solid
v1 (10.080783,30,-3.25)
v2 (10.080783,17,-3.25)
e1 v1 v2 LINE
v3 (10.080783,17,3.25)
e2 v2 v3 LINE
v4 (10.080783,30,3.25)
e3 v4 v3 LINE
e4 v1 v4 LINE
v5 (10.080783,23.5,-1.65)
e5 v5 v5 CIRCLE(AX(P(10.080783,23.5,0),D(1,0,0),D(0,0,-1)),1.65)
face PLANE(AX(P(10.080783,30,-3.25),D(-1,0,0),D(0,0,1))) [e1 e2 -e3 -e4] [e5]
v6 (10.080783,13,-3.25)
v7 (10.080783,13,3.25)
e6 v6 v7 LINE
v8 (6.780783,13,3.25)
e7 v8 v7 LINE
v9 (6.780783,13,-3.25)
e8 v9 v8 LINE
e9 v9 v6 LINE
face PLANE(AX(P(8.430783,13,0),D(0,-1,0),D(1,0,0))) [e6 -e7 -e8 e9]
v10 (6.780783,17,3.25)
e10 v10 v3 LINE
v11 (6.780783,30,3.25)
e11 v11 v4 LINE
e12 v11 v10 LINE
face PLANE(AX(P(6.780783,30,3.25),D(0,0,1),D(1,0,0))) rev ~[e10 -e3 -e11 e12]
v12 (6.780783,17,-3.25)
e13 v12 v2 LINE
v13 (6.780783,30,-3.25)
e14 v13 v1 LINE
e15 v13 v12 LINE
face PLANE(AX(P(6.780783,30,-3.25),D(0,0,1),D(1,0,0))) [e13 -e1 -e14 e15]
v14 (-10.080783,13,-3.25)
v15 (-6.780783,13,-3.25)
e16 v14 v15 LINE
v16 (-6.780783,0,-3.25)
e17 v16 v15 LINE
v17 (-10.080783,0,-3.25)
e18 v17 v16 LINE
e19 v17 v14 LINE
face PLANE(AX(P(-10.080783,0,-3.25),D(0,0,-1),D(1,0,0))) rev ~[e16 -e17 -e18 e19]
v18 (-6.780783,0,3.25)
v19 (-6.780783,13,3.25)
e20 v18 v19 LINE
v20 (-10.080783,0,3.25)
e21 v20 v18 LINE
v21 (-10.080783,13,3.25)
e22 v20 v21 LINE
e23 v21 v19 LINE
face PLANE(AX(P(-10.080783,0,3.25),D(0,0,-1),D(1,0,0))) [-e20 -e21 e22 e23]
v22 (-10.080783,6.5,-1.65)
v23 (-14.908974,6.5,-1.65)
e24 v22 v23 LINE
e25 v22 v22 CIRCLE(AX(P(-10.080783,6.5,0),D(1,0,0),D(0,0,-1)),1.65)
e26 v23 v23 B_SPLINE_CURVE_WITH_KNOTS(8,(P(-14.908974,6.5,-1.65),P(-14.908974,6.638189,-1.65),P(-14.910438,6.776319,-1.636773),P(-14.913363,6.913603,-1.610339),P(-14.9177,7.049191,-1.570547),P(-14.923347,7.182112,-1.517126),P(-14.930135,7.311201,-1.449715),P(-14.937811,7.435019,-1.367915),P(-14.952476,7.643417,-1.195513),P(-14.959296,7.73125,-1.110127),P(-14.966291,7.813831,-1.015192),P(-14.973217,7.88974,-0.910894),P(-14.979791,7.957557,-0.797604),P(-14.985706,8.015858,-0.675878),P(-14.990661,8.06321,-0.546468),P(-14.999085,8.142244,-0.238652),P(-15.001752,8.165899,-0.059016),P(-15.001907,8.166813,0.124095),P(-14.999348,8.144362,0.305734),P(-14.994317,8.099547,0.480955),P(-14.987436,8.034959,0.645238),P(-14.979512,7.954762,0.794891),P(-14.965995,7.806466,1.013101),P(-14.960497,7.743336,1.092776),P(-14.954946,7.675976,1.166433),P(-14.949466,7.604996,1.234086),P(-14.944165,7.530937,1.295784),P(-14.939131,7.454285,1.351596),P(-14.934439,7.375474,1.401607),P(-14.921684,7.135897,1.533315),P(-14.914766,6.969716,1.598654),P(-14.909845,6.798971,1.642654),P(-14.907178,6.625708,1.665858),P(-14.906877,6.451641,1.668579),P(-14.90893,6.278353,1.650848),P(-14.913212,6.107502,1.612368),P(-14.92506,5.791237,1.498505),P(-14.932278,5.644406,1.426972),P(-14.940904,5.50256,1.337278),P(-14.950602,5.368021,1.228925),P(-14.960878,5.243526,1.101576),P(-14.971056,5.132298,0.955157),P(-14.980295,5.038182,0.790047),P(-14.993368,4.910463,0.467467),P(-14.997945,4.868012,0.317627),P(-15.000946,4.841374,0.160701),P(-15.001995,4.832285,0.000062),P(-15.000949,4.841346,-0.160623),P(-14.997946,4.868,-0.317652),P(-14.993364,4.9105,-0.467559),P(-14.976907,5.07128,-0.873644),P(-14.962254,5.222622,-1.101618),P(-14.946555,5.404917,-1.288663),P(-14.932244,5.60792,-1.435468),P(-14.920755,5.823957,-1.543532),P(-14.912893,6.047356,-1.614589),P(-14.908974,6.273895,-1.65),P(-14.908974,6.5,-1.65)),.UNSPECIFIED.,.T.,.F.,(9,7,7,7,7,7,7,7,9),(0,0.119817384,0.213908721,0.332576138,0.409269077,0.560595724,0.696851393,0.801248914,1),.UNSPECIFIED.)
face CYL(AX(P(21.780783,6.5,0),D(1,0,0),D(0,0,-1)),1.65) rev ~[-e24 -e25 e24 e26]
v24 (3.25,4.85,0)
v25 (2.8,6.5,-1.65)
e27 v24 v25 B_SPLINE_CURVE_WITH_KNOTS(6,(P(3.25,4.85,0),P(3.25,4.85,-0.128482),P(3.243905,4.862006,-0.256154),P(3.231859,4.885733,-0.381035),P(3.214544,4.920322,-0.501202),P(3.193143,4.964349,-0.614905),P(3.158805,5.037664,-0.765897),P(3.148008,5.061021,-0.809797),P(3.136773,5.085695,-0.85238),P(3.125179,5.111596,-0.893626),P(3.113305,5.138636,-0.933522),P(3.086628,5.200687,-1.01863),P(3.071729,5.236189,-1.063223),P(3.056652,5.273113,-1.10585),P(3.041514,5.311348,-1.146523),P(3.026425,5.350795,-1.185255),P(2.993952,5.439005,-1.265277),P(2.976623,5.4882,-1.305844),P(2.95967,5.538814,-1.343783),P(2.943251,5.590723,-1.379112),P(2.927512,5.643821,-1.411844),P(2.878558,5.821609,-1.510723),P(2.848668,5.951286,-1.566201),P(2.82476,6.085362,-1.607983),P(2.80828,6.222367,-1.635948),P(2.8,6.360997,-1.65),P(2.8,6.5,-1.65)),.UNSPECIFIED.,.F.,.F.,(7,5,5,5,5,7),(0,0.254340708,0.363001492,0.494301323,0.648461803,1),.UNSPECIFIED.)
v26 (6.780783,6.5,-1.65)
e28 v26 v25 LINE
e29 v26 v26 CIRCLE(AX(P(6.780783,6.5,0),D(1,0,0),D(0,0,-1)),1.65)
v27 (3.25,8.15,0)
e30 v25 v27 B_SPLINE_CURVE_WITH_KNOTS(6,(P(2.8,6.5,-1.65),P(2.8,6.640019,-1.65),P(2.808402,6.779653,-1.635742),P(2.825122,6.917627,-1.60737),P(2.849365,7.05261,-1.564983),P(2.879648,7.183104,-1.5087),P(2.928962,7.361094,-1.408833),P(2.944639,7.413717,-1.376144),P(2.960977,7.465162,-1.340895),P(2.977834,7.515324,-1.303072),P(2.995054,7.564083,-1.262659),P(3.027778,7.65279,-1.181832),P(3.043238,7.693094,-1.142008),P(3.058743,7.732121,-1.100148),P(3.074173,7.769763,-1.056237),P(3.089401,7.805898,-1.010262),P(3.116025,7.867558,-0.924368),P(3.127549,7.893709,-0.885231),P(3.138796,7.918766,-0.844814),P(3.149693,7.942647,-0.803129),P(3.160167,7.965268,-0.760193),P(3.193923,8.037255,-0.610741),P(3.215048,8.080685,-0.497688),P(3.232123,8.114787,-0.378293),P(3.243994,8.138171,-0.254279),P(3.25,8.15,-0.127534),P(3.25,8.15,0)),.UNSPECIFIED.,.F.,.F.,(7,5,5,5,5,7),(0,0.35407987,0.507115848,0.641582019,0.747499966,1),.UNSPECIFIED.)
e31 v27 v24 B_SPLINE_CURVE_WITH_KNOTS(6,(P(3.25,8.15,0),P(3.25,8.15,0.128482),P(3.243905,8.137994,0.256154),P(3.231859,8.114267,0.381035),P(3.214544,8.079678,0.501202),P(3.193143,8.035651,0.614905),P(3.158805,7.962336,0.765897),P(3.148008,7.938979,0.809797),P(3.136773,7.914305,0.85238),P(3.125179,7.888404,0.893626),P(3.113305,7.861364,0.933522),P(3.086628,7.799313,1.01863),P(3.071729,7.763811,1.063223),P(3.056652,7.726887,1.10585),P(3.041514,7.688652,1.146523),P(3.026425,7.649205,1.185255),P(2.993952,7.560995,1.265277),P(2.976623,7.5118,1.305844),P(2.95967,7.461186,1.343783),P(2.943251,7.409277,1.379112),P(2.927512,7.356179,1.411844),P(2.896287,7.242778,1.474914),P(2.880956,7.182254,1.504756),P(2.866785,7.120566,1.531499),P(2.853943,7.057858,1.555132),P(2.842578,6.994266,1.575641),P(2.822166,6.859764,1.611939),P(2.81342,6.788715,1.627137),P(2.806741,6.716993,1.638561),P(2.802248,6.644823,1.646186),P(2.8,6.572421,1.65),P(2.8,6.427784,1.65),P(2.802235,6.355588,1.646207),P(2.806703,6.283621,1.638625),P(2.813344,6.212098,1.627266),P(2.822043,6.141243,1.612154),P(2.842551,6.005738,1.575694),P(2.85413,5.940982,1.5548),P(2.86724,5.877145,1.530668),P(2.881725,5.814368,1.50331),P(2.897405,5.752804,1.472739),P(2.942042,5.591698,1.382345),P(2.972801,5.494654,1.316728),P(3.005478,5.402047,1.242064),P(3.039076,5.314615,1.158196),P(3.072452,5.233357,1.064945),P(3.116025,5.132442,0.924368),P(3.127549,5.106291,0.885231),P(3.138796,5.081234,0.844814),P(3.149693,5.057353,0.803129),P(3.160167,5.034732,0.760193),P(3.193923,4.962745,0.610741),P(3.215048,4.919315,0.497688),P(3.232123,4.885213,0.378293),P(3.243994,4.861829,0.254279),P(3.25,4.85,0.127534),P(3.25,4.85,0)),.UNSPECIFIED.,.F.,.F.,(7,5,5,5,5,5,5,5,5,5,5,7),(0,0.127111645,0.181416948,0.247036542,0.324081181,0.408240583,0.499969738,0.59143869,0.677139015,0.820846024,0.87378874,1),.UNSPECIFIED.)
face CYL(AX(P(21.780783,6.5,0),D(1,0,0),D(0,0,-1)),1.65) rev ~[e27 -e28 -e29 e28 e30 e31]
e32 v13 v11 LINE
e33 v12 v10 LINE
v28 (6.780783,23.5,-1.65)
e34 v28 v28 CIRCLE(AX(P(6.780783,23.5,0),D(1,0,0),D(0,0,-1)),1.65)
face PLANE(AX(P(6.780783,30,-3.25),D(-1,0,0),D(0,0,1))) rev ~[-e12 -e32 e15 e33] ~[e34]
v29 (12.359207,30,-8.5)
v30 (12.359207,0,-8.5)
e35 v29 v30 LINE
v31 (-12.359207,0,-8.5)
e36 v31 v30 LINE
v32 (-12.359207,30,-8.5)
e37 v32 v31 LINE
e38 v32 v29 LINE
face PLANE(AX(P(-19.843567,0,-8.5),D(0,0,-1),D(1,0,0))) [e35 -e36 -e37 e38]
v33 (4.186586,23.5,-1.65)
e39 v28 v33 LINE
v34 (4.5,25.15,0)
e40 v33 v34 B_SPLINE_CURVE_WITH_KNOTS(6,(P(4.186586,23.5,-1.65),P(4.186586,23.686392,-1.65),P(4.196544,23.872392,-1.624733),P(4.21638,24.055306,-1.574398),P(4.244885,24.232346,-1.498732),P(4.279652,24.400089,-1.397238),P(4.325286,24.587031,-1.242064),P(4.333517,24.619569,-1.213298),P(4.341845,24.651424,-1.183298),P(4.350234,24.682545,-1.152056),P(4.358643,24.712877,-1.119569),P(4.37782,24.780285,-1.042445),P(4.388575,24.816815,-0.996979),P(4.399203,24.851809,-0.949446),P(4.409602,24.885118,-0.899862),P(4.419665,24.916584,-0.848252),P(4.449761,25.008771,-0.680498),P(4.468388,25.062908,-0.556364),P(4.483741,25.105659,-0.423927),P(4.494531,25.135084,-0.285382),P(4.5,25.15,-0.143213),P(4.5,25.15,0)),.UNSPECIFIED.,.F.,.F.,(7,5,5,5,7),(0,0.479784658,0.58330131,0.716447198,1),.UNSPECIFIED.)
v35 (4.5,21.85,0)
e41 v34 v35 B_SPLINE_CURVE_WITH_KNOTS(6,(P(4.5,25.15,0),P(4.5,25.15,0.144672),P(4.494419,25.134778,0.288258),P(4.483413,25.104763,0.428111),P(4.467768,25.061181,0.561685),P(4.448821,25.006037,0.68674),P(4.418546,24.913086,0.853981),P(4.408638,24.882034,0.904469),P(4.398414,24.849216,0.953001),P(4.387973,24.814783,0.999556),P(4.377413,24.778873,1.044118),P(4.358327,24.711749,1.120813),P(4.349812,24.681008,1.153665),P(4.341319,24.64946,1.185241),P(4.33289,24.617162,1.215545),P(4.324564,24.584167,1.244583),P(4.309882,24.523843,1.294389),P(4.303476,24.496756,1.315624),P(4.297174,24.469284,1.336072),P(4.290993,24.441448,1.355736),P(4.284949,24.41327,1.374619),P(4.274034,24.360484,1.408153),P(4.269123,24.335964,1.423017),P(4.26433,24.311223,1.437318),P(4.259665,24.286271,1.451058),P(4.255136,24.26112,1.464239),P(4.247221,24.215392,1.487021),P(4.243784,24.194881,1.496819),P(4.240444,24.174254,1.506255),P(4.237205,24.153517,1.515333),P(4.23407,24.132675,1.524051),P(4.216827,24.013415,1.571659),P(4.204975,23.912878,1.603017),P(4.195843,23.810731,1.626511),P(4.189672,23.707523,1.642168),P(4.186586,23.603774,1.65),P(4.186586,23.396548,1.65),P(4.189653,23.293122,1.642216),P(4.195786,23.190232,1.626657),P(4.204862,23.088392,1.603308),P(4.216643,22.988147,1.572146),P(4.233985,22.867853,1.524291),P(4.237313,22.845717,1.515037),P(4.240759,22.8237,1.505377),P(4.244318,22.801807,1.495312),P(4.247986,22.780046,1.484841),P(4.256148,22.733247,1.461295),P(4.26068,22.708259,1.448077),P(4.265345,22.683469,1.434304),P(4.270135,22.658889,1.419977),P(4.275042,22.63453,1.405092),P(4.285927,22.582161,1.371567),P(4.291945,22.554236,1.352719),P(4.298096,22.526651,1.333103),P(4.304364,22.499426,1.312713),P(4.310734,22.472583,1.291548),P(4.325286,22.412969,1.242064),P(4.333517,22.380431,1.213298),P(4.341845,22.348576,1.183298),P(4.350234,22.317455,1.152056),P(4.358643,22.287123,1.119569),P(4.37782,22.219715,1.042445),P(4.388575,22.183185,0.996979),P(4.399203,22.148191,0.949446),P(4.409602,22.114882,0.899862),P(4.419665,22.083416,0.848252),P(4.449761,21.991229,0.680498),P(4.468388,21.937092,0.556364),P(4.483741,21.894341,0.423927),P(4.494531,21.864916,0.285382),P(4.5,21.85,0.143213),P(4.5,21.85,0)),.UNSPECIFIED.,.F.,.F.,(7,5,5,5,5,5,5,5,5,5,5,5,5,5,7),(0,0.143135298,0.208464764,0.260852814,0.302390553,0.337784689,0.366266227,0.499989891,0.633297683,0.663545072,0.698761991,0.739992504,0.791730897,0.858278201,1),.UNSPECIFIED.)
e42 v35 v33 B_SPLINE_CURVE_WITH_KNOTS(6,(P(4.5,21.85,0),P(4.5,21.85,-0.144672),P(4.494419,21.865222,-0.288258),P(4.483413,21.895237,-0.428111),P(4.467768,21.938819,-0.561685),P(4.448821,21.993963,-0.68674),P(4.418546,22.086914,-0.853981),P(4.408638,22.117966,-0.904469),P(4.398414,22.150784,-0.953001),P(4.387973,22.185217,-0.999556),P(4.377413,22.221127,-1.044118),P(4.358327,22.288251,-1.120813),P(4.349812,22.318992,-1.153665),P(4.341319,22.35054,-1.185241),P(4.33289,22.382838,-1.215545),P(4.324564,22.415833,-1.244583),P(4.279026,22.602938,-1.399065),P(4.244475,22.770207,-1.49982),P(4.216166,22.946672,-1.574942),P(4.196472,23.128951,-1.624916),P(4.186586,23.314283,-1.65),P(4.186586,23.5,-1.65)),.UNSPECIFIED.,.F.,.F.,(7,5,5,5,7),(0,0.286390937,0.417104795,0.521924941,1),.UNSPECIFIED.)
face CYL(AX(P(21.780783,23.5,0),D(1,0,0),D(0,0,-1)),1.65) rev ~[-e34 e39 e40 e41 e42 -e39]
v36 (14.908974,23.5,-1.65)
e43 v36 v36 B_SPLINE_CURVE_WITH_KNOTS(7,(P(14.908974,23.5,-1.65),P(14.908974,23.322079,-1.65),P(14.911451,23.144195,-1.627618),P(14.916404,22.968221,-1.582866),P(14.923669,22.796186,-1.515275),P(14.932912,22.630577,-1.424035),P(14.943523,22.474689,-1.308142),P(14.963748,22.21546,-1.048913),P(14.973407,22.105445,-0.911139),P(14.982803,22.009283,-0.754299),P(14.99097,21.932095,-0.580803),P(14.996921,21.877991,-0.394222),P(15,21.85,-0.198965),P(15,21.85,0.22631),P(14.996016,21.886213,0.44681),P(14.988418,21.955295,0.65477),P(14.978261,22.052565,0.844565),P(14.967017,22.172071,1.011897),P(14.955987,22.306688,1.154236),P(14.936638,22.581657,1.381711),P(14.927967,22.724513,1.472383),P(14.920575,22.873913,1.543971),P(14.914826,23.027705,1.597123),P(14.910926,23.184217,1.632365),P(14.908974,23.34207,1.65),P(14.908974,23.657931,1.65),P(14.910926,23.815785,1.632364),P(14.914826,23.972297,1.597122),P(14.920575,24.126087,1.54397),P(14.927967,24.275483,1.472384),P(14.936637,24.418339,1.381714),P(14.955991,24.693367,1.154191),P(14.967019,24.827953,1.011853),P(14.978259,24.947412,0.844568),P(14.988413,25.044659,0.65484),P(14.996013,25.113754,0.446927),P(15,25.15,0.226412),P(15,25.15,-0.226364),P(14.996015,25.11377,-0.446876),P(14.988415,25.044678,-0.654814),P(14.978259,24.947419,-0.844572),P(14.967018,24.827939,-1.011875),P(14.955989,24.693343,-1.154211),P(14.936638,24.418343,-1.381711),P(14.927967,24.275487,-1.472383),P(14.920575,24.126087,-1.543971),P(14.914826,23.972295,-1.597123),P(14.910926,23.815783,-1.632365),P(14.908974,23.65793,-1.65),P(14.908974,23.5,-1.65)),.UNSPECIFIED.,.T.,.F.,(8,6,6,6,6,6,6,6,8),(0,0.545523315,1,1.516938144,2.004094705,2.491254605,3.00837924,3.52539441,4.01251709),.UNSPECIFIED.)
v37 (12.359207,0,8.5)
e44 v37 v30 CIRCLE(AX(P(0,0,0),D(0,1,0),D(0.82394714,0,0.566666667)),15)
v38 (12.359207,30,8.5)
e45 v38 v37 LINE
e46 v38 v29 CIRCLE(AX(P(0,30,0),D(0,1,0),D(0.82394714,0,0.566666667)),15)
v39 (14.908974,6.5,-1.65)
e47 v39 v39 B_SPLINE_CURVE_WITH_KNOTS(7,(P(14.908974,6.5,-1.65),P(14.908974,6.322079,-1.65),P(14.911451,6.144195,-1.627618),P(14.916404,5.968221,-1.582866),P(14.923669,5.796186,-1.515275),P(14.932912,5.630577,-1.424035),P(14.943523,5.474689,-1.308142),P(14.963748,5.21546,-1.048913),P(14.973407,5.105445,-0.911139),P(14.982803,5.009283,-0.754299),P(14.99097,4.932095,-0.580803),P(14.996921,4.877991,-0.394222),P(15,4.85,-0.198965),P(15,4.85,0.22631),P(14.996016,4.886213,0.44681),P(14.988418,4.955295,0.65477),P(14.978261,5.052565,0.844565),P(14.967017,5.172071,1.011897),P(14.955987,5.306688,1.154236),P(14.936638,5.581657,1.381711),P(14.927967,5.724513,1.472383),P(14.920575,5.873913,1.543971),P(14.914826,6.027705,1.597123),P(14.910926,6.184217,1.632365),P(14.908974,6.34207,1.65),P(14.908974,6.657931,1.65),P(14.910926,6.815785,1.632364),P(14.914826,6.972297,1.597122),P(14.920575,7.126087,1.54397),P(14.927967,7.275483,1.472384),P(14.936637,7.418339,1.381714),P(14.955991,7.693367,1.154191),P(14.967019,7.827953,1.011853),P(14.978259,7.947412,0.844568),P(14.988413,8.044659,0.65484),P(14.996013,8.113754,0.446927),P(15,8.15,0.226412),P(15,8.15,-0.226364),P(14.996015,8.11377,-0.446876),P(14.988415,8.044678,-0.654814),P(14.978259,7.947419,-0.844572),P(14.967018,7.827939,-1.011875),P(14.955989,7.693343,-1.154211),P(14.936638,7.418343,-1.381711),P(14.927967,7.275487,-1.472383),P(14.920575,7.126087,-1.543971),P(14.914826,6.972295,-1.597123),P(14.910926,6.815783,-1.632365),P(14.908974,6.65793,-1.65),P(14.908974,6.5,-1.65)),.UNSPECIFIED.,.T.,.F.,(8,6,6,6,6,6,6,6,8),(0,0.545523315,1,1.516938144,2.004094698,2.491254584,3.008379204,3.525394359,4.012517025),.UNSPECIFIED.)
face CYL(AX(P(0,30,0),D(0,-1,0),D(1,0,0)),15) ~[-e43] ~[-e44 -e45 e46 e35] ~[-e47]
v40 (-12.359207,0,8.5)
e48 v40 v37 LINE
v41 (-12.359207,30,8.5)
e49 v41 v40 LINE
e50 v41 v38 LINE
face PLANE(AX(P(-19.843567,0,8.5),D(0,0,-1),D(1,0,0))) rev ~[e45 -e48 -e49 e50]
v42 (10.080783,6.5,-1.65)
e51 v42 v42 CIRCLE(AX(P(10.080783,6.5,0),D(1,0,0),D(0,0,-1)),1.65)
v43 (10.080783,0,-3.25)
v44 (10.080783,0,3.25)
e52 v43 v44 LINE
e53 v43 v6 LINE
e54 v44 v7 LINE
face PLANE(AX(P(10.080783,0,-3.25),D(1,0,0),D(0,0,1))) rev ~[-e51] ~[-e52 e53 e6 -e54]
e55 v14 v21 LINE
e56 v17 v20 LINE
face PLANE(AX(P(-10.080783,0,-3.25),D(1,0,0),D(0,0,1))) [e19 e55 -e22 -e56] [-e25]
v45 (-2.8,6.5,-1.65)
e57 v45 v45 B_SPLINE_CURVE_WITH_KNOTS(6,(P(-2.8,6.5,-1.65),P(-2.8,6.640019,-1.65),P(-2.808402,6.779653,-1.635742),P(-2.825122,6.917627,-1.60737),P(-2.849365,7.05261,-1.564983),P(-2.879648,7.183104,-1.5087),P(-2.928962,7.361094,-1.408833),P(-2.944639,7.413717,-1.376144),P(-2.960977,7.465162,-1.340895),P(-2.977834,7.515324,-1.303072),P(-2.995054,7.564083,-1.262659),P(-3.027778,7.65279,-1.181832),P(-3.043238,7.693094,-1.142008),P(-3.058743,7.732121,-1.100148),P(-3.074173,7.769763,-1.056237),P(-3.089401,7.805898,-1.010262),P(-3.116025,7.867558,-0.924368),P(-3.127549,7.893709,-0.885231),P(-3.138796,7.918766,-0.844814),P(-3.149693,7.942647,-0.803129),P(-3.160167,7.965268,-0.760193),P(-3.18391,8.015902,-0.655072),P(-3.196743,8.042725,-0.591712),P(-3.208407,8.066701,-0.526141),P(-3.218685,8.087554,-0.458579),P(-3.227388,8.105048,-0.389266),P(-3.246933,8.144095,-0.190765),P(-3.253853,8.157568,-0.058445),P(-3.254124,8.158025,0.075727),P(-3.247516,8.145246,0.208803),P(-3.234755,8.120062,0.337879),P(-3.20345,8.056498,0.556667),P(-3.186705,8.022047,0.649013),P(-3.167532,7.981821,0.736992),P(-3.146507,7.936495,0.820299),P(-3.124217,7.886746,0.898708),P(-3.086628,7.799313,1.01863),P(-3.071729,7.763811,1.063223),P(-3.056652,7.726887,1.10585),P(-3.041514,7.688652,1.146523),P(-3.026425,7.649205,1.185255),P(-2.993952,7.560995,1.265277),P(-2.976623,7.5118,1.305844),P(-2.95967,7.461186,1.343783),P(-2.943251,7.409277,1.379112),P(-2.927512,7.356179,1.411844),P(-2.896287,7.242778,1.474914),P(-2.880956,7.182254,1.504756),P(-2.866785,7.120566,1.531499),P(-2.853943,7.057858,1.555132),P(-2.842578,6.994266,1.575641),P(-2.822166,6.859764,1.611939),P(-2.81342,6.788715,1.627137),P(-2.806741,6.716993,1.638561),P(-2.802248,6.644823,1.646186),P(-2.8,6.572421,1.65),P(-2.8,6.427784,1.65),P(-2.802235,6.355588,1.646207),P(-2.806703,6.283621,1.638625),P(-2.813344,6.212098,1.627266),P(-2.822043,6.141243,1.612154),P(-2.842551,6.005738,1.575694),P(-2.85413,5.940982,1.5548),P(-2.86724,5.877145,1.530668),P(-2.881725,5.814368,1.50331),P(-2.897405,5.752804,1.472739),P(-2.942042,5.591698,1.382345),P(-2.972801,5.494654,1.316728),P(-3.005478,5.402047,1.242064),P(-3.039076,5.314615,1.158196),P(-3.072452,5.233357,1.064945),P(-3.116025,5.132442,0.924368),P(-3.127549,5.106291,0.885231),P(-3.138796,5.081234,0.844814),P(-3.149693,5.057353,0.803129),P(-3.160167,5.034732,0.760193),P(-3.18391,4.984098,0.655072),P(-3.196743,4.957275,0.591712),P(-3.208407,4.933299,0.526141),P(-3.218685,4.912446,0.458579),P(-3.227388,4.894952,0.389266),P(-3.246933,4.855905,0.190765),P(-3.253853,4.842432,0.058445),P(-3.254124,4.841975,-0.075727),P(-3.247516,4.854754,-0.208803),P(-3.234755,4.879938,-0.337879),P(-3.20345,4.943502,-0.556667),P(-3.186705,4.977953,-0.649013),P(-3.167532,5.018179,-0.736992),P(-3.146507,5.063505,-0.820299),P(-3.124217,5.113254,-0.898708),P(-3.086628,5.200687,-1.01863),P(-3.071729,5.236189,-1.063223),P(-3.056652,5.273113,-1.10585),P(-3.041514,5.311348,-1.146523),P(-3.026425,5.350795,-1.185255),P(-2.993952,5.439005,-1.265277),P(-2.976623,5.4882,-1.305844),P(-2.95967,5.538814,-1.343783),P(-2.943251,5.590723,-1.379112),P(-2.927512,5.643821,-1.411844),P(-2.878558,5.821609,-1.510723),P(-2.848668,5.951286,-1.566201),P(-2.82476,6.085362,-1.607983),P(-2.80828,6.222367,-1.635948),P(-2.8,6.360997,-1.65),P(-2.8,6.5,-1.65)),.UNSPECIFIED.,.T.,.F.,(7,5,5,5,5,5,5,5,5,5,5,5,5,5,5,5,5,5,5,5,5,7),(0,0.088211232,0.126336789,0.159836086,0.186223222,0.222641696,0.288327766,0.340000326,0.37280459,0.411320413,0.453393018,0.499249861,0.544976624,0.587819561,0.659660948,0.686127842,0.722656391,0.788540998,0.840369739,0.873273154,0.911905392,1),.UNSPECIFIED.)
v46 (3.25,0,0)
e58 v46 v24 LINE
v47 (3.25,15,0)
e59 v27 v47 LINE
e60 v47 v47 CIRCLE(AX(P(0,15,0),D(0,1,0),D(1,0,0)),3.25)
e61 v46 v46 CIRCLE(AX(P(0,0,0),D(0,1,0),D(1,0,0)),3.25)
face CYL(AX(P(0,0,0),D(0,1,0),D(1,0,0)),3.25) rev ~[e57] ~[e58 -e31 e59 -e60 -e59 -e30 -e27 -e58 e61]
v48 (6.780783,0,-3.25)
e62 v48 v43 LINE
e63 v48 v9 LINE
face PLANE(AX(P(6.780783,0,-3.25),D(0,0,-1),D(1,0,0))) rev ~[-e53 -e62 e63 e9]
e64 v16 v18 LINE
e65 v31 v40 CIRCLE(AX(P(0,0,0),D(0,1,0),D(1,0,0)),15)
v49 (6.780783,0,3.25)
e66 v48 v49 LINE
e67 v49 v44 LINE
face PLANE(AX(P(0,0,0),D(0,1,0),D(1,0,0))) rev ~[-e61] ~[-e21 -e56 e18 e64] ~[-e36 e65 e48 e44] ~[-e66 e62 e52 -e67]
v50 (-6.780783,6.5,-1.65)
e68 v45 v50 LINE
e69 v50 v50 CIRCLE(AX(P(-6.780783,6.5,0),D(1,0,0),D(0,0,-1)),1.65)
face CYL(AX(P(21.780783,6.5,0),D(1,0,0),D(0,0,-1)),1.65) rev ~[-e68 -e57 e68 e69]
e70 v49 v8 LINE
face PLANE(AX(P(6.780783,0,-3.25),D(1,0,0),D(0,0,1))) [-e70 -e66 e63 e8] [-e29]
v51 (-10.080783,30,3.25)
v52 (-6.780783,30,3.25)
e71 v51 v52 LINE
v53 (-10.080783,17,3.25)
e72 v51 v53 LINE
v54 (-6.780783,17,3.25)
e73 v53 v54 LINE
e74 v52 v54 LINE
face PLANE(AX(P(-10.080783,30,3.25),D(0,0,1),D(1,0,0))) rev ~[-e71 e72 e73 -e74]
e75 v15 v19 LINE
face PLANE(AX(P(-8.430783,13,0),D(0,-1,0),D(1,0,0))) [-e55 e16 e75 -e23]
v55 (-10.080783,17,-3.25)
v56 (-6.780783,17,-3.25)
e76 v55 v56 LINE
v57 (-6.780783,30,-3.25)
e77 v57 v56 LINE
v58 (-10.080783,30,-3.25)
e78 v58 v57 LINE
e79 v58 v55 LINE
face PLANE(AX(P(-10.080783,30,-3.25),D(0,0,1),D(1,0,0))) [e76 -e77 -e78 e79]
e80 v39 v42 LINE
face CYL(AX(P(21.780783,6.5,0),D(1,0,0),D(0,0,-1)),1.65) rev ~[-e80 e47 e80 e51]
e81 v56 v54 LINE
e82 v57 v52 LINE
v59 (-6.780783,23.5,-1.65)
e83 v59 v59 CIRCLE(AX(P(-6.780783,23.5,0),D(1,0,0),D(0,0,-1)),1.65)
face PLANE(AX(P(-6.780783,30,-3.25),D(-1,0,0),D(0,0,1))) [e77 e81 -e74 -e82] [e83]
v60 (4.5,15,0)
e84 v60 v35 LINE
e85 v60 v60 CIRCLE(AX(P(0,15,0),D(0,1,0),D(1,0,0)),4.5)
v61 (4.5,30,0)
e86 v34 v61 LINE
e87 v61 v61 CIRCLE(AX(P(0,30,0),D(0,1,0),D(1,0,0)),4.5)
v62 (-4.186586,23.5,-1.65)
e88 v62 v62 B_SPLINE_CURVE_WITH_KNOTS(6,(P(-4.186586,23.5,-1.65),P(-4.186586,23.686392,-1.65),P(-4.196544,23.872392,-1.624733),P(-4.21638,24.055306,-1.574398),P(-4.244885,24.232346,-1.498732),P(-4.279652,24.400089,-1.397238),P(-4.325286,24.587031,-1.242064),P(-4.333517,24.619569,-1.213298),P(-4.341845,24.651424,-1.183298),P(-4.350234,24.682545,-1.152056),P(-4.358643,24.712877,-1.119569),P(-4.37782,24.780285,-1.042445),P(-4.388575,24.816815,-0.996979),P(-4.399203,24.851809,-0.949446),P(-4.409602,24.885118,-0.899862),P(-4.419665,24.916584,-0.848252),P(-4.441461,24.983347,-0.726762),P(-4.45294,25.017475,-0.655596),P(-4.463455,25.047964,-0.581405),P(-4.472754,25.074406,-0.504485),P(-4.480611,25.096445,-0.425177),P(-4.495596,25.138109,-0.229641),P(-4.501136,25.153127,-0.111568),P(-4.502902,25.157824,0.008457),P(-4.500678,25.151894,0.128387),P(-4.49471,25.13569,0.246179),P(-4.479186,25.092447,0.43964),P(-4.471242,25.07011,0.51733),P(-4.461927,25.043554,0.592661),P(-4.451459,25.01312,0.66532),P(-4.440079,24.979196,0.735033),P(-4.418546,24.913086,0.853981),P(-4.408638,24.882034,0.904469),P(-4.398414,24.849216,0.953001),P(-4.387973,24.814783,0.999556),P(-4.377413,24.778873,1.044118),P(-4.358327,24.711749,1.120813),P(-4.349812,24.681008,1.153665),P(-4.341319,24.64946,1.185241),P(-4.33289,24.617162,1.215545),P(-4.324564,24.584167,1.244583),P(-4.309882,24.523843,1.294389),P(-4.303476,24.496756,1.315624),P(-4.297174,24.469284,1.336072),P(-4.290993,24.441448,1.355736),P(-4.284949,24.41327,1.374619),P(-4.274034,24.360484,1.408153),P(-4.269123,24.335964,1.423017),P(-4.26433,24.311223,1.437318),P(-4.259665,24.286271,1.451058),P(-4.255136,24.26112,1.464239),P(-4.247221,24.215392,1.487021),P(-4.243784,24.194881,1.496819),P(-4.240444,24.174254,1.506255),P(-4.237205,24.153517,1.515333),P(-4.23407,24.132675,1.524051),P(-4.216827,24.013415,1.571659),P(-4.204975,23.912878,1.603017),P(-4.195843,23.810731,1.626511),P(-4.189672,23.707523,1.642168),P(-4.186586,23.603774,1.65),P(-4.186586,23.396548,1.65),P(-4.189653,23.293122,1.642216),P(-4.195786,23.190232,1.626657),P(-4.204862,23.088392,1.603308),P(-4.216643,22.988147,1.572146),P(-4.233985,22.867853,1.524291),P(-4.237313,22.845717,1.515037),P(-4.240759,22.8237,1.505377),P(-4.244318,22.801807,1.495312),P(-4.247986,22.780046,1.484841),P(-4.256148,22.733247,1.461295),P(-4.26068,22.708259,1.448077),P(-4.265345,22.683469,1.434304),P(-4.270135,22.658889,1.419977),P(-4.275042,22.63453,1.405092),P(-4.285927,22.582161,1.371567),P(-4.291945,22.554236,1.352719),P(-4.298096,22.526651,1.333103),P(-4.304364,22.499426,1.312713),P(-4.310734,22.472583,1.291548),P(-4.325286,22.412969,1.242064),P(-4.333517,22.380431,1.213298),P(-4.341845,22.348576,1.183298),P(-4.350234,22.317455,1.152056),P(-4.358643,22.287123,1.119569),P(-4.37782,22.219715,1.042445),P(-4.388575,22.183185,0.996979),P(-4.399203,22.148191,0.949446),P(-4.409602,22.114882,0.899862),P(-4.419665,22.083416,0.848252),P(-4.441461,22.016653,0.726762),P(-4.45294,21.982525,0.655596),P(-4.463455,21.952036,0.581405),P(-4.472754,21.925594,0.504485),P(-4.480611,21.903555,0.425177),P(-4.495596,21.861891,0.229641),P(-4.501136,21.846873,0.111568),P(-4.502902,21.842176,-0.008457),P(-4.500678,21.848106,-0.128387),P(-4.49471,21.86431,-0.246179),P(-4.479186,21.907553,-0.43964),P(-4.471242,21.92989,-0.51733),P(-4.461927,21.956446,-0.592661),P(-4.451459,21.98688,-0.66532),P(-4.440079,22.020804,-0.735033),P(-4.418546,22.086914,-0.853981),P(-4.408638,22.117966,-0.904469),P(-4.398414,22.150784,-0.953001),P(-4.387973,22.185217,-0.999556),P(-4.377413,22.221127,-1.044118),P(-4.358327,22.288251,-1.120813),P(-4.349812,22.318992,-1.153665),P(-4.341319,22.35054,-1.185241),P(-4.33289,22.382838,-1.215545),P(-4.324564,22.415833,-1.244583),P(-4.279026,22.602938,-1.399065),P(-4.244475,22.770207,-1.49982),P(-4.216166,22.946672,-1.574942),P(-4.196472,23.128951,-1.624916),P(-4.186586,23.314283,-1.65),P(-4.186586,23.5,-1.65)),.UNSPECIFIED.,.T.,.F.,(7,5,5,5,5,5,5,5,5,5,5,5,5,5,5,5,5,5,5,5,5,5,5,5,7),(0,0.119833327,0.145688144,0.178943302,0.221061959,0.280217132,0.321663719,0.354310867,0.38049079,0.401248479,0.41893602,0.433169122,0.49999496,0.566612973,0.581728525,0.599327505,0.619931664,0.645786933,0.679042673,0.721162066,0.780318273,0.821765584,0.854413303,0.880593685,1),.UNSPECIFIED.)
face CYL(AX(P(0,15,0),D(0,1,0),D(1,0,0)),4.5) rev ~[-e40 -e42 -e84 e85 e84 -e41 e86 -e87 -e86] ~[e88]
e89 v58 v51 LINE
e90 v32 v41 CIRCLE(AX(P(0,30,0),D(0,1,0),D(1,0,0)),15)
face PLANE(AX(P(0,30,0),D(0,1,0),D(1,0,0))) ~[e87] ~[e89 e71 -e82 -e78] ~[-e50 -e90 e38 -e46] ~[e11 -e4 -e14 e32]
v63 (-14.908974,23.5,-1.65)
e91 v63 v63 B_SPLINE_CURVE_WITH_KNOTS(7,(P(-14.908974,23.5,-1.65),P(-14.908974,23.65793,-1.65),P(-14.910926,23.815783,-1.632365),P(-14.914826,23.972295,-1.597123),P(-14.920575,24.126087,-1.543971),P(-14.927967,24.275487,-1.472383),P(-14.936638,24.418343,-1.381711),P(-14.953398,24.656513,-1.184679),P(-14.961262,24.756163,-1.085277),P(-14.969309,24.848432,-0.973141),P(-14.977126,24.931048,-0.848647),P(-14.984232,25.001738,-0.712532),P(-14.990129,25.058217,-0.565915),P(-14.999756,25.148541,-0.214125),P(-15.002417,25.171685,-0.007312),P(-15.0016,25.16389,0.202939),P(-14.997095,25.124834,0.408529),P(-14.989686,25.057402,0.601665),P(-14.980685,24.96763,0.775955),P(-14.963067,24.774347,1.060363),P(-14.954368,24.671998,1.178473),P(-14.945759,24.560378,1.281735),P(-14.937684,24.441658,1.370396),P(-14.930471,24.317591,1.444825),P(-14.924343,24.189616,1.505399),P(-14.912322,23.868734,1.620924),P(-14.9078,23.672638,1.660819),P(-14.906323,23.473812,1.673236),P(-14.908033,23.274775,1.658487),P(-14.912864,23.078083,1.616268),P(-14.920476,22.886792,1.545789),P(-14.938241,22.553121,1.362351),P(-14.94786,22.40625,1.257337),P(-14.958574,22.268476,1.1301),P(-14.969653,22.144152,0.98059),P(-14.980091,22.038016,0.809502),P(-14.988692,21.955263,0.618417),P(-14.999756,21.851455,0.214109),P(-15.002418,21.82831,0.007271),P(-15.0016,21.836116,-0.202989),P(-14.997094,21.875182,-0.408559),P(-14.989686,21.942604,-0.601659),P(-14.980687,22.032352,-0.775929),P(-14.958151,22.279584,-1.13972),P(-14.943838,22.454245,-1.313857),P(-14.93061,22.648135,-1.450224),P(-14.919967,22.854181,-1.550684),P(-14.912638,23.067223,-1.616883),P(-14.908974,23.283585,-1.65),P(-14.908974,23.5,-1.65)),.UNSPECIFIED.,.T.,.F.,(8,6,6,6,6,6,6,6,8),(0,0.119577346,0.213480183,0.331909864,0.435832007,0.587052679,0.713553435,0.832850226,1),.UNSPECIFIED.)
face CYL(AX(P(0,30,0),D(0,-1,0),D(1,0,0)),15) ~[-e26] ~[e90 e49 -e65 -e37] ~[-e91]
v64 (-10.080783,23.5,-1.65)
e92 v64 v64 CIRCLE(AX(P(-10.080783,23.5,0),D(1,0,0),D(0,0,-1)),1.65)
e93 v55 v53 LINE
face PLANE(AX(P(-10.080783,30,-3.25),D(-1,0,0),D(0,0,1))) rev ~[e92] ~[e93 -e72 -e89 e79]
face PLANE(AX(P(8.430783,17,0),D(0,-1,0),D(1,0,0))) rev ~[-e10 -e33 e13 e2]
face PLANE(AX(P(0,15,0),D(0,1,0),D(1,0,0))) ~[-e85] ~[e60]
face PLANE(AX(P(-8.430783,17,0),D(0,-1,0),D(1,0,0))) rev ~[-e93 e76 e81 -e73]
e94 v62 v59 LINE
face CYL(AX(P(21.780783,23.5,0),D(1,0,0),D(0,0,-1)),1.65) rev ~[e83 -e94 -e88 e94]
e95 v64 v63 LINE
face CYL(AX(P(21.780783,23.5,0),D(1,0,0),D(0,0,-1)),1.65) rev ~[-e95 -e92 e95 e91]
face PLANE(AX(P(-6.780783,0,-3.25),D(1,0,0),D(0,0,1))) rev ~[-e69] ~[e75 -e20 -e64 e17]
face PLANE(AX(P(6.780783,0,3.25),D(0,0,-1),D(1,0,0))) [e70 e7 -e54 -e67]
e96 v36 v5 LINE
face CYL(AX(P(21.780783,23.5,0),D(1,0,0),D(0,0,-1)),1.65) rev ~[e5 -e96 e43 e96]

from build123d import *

# Parameters (mm, degrees)
ESBO_O2_W                  = 3.3
ESBO_O2_H                  = 6.5
CORTE_EXTRUS_O1_DEPTH      = 13
CORTE_EXTRUS_O2_START      = -30
ESBO_O2_2_W                = 3.3
ESBO_O2_2_H                = 6.5
CORTE_EXTRUS_O2_DEPTH      = 13
CORTE_EXTRUS_O4_START      = 15
ESBO_O3_R                  = 1.65
CORTE_EXTRUS_O4_DEPTH      = 37.780782806
ESBO_O4_W                  = 59.68713318
ESBO_O4_H                  = 37
ESBO_O4_W_2                = 39.68713318
ESBO_O4_H_2                = 17
CORTE_EXTRUS_O_FINA1_DEPTH = 33


with BuildPart() as part:
    # Esboço1 → Revolução1 (revolve)
    with BuildSketch(Plane.XY):
        Polygon((4.5, 30), (15, 30), (15, 0), (3.25, 0), (3.25, 15), (4.5, 15), align=None)
    revolve(axis=Axis((0, 0, 0), (0, 1, 0)))

    # Esboço2 → Corte-extrusão1 (cut)
    with BuildSketch(Plane.XZ):
        with Locations((8.430782806, 0)):
            Rectangle(ESBO_O2_W, ESBO_O2_H)
        with Locations((-8.430782806, 0)):
            Rectangle(ESBO_O2_W, ESBO_O2_H)
    extrude(amount=-CORTE_EXTRUS_O1_DEPTH, mode=Mode.SUBTRACT)

    # Esboço2<2> → Corte-extrusão2 (cut)
    with BuildSketch(Plane.XZ.offset(CORTE_EXTRUS_O2_START)):
        with Locations((8.430782806, 0)):
            Rectangle(ESBO_O2_2_W, ESBO_O2_2_H)
        with Locations((-8.430782806, 0)):
            Rectangle(ESBO_O2_2_W, ESBO_O2_2_H)
    extrude(amount=CORTE_EXTRUS_O2_DEPTH, mode=Mode.SUBTRACT)

    # Esboço3 → Corte-extrusão4 (cut, through all)
    with BuildSketch(Plane(origin=(6.780782806, 0, 0), x_dir=(0, 0, -1), z_dir=(1, 0, 0)).offset(CORTE_EXTRUS_O4_START)):
        with Locations((0, 23.5)):
            Circle(ESBO_O3_R)
        with Locations((0, 6.5)):
            Circle(ESBO_O3_R)
    extrude(amount=-CORTE_EXTRUS_O4_DEPTH, mode=Mode.SUBTRACT)

    # Esboço4 → Corte-Extrusão-Fina1 (cut)
    with BuildSketch(Plane.XZ):
        Rectangle(ESBO_O4_W, ESBO_O4_H)
        Rectangle(ESBO_O4_W_2, ESBO_O4_H_2, mode=Mode.SUBTRACT)
    extrude(amount=-CORTE_EXTRUS_O_FINA1_DEPTH, mode=Mode.SUBTRACT)


solid = part.part
